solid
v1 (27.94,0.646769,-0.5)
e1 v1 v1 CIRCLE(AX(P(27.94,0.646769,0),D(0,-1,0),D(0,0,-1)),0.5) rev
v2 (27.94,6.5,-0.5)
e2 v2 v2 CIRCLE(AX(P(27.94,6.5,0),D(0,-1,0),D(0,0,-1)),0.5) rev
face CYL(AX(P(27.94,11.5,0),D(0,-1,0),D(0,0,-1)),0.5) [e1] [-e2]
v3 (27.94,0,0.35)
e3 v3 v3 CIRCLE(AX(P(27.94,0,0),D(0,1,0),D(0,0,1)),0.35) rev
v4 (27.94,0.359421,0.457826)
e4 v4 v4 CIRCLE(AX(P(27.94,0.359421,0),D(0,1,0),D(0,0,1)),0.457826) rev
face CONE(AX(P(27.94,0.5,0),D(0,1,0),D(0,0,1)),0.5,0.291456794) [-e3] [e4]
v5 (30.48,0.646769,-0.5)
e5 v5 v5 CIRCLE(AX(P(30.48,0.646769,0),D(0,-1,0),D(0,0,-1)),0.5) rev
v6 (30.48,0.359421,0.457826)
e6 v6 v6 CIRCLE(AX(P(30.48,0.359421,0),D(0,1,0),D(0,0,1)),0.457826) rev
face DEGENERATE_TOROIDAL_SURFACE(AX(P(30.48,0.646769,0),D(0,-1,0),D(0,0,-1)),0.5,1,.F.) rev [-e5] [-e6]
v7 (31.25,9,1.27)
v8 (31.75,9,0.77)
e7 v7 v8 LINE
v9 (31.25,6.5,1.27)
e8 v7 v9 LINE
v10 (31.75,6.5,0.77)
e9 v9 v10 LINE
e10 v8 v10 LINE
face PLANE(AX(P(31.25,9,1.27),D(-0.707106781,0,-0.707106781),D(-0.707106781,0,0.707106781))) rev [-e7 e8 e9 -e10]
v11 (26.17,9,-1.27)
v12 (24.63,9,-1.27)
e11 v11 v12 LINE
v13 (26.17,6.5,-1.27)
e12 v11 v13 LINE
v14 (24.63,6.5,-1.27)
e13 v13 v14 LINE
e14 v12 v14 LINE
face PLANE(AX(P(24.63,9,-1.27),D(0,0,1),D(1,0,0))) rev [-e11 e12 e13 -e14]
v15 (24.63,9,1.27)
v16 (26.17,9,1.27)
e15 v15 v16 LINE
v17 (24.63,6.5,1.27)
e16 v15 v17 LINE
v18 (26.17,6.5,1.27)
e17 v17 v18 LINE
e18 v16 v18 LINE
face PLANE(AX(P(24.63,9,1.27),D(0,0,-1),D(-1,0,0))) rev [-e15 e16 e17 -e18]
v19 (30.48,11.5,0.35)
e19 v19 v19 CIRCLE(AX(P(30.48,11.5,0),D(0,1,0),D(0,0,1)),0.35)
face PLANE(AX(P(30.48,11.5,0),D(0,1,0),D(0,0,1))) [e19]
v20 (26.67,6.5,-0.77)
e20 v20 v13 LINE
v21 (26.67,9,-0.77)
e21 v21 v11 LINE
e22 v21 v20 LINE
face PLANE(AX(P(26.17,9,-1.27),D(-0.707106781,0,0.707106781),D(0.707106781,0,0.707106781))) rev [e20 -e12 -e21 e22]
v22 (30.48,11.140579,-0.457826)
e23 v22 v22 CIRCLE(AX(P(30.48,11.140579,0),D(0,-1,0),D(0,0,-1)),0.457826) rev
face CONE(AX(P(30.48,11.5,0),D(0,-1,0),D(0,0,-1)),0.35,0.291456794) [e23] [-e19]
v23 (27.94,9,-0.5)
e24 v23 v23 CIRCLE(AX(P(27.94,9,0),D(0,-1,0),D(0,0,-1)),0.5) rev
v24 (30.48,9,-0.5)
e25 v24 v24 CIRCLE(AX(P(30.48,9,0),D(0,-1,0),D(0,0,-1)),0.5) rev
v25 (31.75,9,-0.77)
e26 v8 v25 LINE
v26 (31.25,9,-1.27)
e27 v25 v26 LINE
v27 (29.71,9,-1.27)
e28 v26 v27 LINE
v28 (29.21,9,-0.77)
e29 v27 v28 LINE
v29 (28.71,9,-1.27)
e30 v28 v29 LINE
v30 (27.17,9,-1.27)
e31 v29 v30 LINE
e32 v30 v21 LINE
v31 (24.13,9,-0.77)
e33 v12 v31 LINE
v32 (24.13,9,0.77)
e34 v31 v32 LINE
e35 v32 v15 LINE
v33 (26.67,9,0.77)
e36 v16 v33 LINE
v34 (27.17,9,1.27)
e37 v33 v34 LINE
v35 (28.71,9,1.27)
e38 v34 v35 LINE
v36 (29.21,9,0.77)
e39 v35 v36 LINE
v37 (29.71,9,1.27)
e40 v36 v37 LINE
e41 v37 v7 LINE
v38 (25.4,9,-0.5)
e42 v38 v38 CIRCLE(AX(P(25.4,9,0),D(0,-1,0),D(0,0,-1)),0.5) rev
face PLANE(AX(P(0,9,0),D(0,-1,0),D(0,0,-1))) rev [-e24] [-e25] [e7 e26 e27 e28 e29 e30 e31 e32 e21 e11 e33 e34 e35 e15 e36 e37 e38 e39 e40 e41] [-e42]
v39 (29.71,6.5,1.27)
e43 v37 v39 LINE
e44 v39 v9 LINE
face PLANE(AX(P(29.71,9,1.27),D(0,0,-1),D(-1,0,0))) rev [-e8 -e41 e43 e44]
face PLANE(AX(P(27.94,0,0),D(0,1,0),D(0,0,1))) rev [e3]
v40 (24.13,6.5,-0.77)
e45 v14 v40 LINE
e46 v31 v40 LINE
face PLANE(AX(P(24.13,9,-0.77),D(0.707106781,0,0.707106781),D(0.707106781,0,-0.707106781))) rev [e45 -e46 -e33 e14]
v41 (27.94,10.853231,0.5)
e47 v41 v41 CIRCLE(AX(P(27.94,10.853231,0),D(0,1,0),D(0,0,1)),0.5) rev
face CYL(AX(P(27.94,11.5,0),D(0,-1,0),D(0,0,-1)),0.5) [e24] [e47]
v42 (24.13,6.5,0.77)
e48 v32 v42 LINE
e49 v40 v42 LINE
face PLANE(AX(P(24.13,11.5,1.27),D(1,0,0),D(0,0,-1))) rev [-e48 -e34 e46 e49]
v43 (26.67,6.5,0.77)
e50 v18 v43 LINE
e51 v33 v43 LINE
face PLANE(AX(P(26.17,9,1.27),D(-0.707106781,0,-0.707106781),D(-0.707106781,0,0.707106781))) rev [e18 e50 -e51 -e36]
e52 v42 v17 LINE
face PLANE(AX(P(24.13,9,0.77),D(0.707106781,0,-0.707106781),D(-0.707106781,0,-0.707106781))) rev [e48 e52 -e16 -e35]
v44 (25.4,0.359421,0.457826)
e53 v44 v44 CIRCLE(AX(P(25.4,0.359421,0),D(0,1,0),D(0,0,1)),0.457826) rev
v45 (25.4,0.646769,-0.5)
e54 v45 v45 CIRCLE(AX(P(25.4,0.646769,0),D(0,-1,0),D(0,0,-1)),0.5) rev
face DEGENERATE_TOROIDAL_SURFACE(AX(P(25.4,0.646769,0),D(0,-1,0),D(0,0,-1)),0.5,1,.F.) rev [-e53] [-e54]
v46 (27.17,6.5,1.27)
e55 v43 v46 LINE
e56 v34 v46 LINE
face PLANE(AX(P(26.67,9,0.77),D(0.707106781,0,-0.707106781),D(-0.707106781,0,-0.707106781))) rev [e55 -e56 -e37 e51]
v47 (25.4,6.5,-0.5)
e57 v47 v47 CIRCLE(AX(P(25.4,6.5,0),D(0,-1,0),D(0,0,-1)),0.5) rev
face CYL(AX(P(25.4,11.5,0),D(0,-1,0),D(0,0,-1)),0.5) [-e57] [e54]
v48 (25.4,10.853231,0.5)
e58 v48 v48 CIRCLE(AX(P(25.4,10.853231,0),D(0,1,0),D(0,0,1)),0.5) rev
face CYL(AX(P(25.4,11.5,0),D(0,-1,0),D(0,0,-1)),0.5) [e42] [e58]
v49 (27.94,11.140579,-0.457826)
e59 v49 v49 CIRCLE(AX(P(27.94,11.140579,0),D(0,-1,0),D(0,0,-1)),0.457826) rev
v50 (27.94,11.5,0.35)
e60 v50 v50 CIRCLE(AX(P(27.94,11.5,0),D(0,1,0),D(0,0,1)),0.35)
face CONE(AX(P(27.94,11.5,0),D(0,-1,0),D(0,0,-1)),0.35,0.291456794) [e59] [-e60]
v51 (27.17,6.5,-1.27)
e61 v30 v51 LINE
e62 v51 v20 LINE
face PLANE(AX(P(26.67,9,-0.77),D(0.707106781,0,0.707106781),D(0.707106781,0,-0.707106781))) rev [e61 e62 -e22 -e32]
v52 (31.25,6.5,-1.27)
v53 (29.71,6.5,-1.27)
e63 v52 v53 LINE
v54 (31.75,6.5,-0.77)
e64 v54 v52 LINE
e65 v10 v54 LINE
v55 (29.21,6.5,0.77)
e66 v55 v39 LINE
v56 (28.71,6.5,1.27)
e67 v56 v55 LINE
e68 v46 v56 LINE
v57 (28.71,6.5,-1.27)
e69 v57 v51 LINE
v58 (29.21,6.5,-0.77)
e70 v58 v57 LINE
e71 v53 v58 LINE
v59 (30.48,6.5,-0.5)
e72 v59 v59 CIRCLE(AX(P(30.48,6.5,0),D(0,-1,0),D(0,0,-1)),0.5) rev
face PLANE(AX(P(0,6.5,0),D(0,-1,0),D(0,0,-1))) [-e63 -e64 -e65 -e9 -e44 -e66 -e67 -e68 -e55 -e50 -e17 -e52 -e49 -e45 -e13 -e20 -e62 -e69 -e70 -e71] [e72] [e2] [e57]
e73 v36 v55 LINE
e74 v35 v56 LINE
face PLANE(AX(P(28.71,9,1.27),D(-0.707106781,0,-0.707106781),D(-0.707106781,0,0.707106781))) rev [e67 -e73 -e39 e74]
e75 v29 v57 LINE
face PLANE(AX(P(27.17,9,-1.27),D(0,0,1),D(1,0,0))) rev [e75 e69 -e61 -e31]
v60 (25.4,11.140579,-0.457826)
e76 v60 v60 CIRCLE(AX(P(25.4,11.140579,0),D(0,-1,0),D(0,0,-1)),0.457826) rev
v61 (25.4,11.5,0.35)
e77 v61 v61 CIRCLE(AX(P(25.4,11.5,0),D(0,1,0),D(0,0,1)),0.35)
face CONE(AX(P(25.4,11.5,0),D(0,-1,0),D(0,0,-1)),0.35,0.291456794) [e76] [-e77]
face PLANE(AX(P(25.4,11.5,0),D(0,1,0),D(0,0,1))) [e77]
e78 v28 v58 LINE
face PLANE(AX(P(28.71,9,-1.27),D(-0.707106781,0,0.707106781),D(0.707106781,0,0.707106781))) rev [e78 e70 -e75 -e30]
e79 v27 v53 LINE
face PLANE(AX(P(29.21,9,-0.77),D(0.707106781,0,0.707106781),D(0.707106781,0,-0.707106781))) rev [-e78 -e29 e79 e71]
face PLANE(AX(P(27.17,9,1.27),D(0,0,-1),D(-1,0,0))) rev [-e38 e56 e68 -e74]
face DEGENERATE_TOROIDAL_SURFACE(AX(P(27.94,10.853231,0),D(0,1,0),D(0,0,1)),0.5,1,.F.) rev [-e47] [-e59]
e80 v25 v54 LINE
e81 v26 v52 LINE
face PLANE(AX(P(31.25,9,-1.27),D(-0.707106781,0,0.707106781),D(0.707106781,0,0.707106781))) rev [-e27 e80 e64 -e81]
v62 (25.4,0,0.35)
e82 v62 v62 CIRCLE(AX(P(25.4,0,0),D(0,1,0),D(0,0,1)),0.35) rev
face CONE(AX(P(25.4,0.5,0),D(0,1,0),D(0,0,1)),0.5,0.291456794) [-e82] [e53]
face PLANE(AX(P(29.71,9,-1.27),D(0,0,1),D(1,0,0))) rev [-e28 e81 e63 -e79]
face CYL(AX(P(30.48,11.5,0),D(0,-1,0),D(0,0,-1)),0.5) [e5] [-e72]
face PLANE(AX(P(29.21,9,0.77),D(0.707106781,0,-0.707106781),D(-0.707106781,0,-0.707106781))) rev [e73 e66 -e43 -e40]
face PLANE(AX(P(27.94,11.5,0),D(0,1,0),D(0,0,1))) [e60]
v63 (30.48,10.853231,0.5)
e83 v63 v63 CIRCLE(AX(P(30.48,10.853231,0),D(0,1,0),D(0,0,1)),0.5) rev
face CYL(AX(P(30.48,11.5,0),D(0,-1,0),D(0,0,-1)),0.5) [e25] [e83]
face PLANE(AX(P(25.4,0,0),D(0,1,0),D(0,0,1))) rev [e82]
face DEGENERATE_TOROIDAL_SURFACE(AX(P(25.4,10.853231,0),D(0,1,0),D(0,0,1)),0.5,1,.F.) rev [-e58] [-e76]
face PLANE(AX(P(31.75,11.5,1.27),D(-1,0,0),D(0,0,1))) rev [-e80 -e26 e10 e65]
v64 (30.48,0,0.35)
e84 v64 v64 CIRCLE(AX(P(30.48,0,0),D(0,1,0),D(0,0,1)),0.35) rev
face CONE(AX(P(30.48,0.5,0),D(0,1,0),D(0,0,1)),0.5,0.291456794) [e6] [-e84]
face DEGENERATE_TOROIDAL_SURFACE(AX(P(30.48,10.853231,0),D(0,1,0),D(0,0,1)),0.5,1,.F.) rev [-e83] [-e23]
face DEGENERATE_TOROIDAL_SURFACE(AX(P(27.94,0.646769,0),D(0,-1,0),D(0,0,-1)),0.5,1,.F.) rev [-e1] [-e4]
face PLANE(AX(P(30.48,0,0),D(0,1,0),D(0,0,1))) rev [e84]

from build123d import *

# Parameters (mm, degrees)
SKETCH1_R               = 0.5
BOSS_EXTRUDE1_DEPTH     = 11.5
BOSS_EXTRUDE1_2_DEPTH   = 11.5
BOSS_EXTRUDE1_3_DEPTH   = 11.5
BOSS_EXTRUDE1_4_DEPTH   = 11.5
BOSS_EXTRUDE1_5_DEPTH   = 11.5
BOSS_EXTRUDE1_6_DEPTH   = 11.5
BOSS_EXTRUDE1_7_DEPTH   = 11.5
BOSS_EXTRUDE1_8_DEPTH   = 11.5
BOSS_EXTRUDE1_9_DEPTH   = 11.5
BOSS_EXTRUDE1_10_DEPTH  = 11.5
BOSS_EXTRUDE1_11_DEPTH  = 11.5
BOSS_EXTRUDE1_12_DEPTH  = 11.5
BOSS_EXTRUDE1_13_DEPTH  = 11.5
BOSS_EXTRUDE1_14_DEPTH  = 11.5
BOSS_EXTRUDE1_15_DEPTH  = 11.5
BOSS_EXTRUDE1_16_DEPTH  = 11.5
BOSS_EXTRUDE2_DEPTH     = 2.5
CHAMFER1_SIZE           = 0.5
CHAMFER1_SIZE2          = 0.15
CHAMFER1_PART_2_SIZE    = 0.5
CHAMFER1_PART_2_SIZE2   = 0.15
CHAMFER1_PART_3_SIZE    = 0.5
CHAMFER1_PART_3_SIZE2   = 0.15
CHAMFER1_PART_4_SIZE    = 0.5
CHAMFER1_PART_4_SIZE2   = 0.15
CHAMFER1_PART_5_SIZE    = 0.5
CHAMFER1_PART_5_SIZE2   = 0.15
CHAMFER1_PART_6_SIZE    = 0.5
CHAMFER1_PART_6_SIZE2   = 0.15
CHAMFER1_PART_7_SIZE    = 0.5
CHAMFER1_PART_7_SIZE2   = 0.15
CHAMFER1_PART_8_SIZE    = 0.5
CHAMFER1_PART_8_SIZE2   = 0.15
CHAMFER1_PART_9_SIZE    = 0.5
CHAMFER1_PART_9_SIZE2   = 0.15
CHAMFER1_PART_10_SIZE   = 0.5
CHAMFER1_PART_10_SIZE2  = 0.15
CHAMFER1_PART_11_SIZE   = 0.5
CHAMFER1_PART_11_SIZE2  = 0.15
CHAMFER1_PART_12_SIZE   = 0.5
CHAMFER1_PART_12_SIZE2  = 0.15
CHAMFER1_PART_13_SIZE   = 0.5
CHAMFER1_PART_13_SIZE2  = 0.15
CHAMFER1_PART_14_SIZE   = 0.5
CHAMFER1_PART_14_SIZE2  = 0.15
CHAMFER1_PART_15_SIZE   = 0.5
CHAMFER1_PART_15_SIZE2  = 0.15
CHAMFER1_PART_16_SIZE   = 0.5
CHAMFER1_PART_16_SIZE2  = 0.15
FILLET1_R               = 1
CHAMFER2_SIZE           = 0.15
CHAMFER2_SIZE2          = 0.5
CHAMFER2_PART_2_SIZE    = 0.15
CHAMFER2_PART_2_SIZE2   = 0.5
CHAMFER2_PART_3_SIZE    = 0.15
CHAMFER2_PART_3_SIZE2   = 0.5
CHAMFER2_PART_4_SIZE    = 0.15
CHAMFER2_PART_4_SIZE2   = 0.5
CHAMFER2_PART_5_SIZE    = 0.15
CHAMFER2_PART_5_SIZE2   = 0.5
CHAMFER2_PART_6_SIZE    = 0.15
CHAMFER2_PART_6_SIZE2   = 0.5
CHAMFER2_PART_7_SIZE    = 0.15
CHAMFER2_PART_7_SIZE2   = 0.5
CHAMFER2_PART_8_SIZE    = 0.15
CHAMFER2_PART_8_SIZE2   = 0.5
CHAMFER2_PART_9_SIZE    = 0.15
CHAMFER2_PART_9_SIZE2   = 0.5
CHAMFER2_PART_10_SIZE   = 0.15
CHAMFER2_PART_10_SIZE2  = 0.5
CHAMFER2_PART_11_SIZE   = 0.15
CHAMFER2_PART_11_SIZE2  = 0.5
CHAMFER2_PART_12_SIZE   = 0.15
CHAMFER2_PART_12_SIZE2  = 0.5
CHAMFER2_PART_13_SIZE   = 0.15
CHAMFER2_PART_13_SIZE2  = 0.5
CHAMFER2_PART_14_SIZE   = 0.15
CHAMFER2_PART_14_SIZE2  = 0.5
CHAMFER2_PART_15_SIZE   = 0.15
CHAMFER2_PART_15_SIZE2  = 0.5
CHAMFER2_PART_16_SIZE   = 0.15
CHAMFER2_PART_16_SIZE2  = 0.5
FILLET2_R               = 1
CUT_EXTRUDE1_DEPTH      = 1
CUT_EXTRUDE1_DEPTH_BACK = 3.54


with BuildPart() as part:
    # Sketch1 → Boss-Extrude1 (new body)
    with BuildSketch(Plane(origin=(0, 0, 0), x_dir=(1, 0, 0), z_dir=(0, 1, 0))):
        Circle(SKETCH1_R)
    extrude(amount=BOSS_EXTRUDE1_DEPTH)



with BuildPart() as body_2:
    # Sketch1 → Boss-Extrude1 2 (new body)
    with BuildSketch(Plane(origin=(0, 0, 0), x_dir=(1, 0, 0), z_dir=(0, 1, 0))):
        with Locations((2.54, 0)):
            Circle(SKETCH1_R)
    extrude(amount=BOSS_EXTRUDE1_2_DEPTH)


with BuildPart() as body_3:
    # Sketch1 → Boss-Extrude1 3 (new body)
    with BuildSketch(Plane(origin=(0, 0, 0), x_dir=(1, 0, 0), z_dir=(0, 1, 0))):
        with Locations((5.08, 0)):
            Circle(SKETCH1_R)
    extrude(amount=BOSS_EXTRUDE1_3_DEPTH)


with BuildPart() as body_4:
    # Sketch1 → Boss-Extrude1 4 (new body)
    with BuildSketch(Plane(origin=(0, 0, 0), x_dir=(1, 0, 0), z_dir=(0, 1, 0))):
        with Locations((7.62, 0)):
            Circle(SKETCH1_R)
    extrude(amount=BOSS_EXTRUDE1_4_DEPTH)


with BuildPart() as body_5:
    # Sketch1 → Boss-Extrude1 5 (new body)
    with BuildSketch(Plane(origin=(0, 0, 0), x_dir=(1, 0, 0), z_dir=(0, 1, 0))):
        with Locations((10.16, 0)):
            Circle(SKETCH1_R)
    extrude(amount=BOSS_EXTRUDE1_5_DEPTH)


with BuildPart() as body_6:
    # Sketch1 → Boss-Extrude1 6 (new body)
    with BuildSketch(Plane(origin=(0, 0, 0), x_dir=(1, 0, 0), z_dir=(0, 1, 0))):
        with Locations((12.7, 0)):
            Circle(SKETCH1_R)
    extrude(amount=BOSS_EXTRUDE1_6_DEPTH)


with BuildPart() as body_7:
    # Sketch1 → Boss-Extrude1 7 (new body)
    with BuildSketch(Plane(origin=(0, 0, 0), x_dir=(1, 0, 0), z_dir=(0, 1, 0))):
        with Locations((15.24, 0)):
            Circle(SKETCH1_R)
    extrude(amount=BOSS_EXTRUDE1_7_DEPTH)


with BuildPart() as body_8:
    # Sketch1 → Boss-Extrude1 8 (new body)
    with BuildSketch(Plane(origin=(0, 0, 0), x_dir=(1, 0, 0), z_dir=(0, 1, 0))):
        with Locations((17.78, 0)):
            Circle(SKETCH1_R)
    extrude(amount=BOSS_EXTRUDE1_8_DEPTH)


with BuildPart() as body_9:
    # Sketch1 → Boss-Extrude1 9 (new body)
    with BuildSketch(Plane(origin=(0, 0, 0), x_dir=(1, 0, 0), z_dir=(0, 1, 0))):
        with Locations((20.32, 0)):
            Circle(SKETCH1_R)
    extrude(amount=BOSS_EXTRUDE1_9_DEPTH)


with BuildPart() as body_10:
    # Sketch1 → Boss-Extrude1 10 (new body)
    with BuildSketch(Plane(origin=(0, 0, 0), x_dir=(1, 0, 0), z_dir=(0, 1, 0))):
        with Locations((22.86, 0)):
            Circle(SKETCH1_R)
    extrude(amount=BOSS_EXTRUDE1_10_DEPTH)


with BuildPart() as body_11:
    # Sketch1 → Boss-Extrude1 11 (new body)
    with BuildSketch(Plane(origin=(0, 0, 0), x_dir=(1, 0, 0), z_dir=(0, 1, 0))):
        with Locations((25.4, 0)):
            Circle(SKETCH1_R)
    extrude(amount=BOSS_EXTRUDE1_11_DEPTH)


with BuildPart() as body_12:
    # Sketch1 → Boss-Extrude1 12 (new body)
    with BuildSketch(Plane(origin=(0, 0, 0), x_dir=(1, 0, 0), z_dir=(0, 1, 0))):
        with Locations((27.94, 0)):
            Circle(SKETCH1_R)
    extrude(amount=BOSS_EXTRUDE1_12_DEPTH)


with BuildPart() as body_13:
    # Sketch1 → Boss-Extrude1 13 (new body)
    with BuildSketch(Plane(origin=(0, 0, 0), x_dir=(1, 0, 0), z_dir=(0, 1, 0))):
        with Locations((30.48, 0)):
            Circle(SKETCH1_R)
    extrude(amount=BOSS_EXTRUDE1_13_DEPTH)


with BuildPart() as body_14:
    # Sketch1 → Boss-Extrude1 14 (new body)
    with BuildSketch(Plane(origin=(0, 0, 0), x_dir=(1, 0, 0), z_dir=(0, 1, 0))):
        with Locations((33.02, 0)):
            Circle(SKETCH1_R)
    extrude(amount=BOSS_EXTRUDE1_14_DEPTH)


with BuildPart() as body_15:
    # Sketch1 → Boss-Extrude1 15 (new body)
    with BuildSketch(Plane(origin=(0, 0, 0), x_dir=(1, 0, 0), z_dir=(0, 1, 0))):
        with Locations((35.56, 0)):
            Circle(SKETCH1_R)
    extrude(amount=BOSS_EXTRUDE1_15_DEPTH)


with BuildPart() as body_16:
    # Sketch1 → Boss-Extrude1 16 (new body)
    with BuildSketch(Plane(origin=(0, 0, 0), x_dir=(1, 0, 0), z_dir=(0, 1, 0))):
        with Locations((38.1, 0)):
            Circle(SKETCH1_R)
    extrude(amount=BOSS_EXTRUDE1_16_DEPTH)


with BuildPart() as part_1:
    add(part.part)

    add(body_2.part)  # Boss-Extrude2 merges body 2

    add(body_3.part)  # Boss-Extrude2 merges body 3

    add(body_4.part)  # Boss-Extrude2 merges body 4

    add(body_5.part)  # Boss-Extrude2 merges body 5

    add(body_6.part)  # Boss-Extrude2 merges body 6

    add(body_7.part)  # Boss-Extrude2 merges body 7

    add(body_8.part)  # Boss-Extrude2 merges body 8

    add(body_9.part)  # Boss-Extrude2 merges body 9

    add(body_10.part)  # Boss-Extrude2 merges body 10

    add(body_11.part)  # Boss-Extrude2 merges body 11

    add(body_12.part)  # Boss-Extrude2 merges body 12

    add(body_13.part)  # Boss-Extrude2 merges body 13

    add(body_14.part)  # Boss-Extrude2 merges body 14

    add(body_15.part)  # Boss-Extrude2 merges body 15

    add(body_16.part)  # Boss-Extrude2 merges body 16
    # Sketch2 → Boss-Extrude2 (add)
    with BuildSketch(Plane(origin=(0, 6.5, 0), x_dir=(1, 0, 0), z_dir=(0, 1, 0))):
        Polygon((-1.27, 0.77), (-0.77, 1.27), (0.77, 1.27), (1.27, 0.77), (1.77, 1.27), (3.31, 1.27), (3.81, 0.77), (4.31, 1.27), (5.85, 1.27), (6.35, 0.77), (6.85, 1.27), (8.39, 1.27), (8.89, 0.77), (9.39, 1.27), (10.93, 1.27), (11.43, 0.77), (11.93, 1.27), (13.47, 1.27), (13.97, 0.77), (14.47, 1.27), (16.01, 1.27), (16.51, 0.77), (17.01, 1.27), (18.55, 1.27), (19.05, 0.77), (19.55, 1.27), (21.09, 1.27), (21.59, 0.77), (22.09, 1.27), (23.63, 1.27), (24.13, 0.77), (24.63, 1.27), (26.17, 1.27), (26.67, 0.77), (27.17, 1.27), (28.71, 1.27), (29.21, 0.77), (29.71, 1.27), (31.25, 1.27), (31.75, 0.77), (32.25, 1.27), (33.79, 1.27), (34.29, 0.77), (34.79, 1.27), (36.33, 1.27), (36.83, 0.77), (37.33, 1.27), (38.87, 1.27), (39.37, 0.77), (39.37, -0.77), (38.87, -1.27), (37.33, -1.27), (36.83, -0.77), (36.33, -1.27), (34.79, -1.27), (34.29, -0.77), (33.79, -1.27), (32.25, -1.27), (31.75, -0.77), (31.25, -1.27), (29.71, -1.27), (29.21, -0.77), (28.71, -1.27), (27.17, -1.27), (26.67, -0.77), (26.17, -1.27), (24.63, -1.27), (24.13, -0.77), (23.63, -1.27), (22.09, -1.27), (21.59, -0.77), (21.09, -1.27), (19.55, -1.27), (19.05, -0.77), (18.55, -1.27), (17.01, -1.27), (16.51, -0.77), (16.01, -1.27), (14.47, -1.27), (13.97, -0.77), (13.47, -1.27), (11.93, -1.27), (11.43, -0.77), (10.93, -1.27), (9.39, -1.27), (8.89, -0.77), (8.39, -1.27), (6.85, -1.27), (6.35, -0.77), (5.85, -1.27), (4.31, -1.27), (3.81, -0.77), (3.31, -1.27), (1.77, -1.27), (1.27, -0.77), (0.77, -1.27), (-0.77, -1.27), (-1.27, -0.77), align=None)
    extrude(amount=BOSS_EXTRUDE2_DEPTH)

    # Chamfer1
    chamfer1_edges = [part_1.edges().sort_by_distance(p)[0] for p in [
        (2.04, 11.5, 0),
    ]]
    chamfer1_side = [part_1.faces().sort_by_distance(p)[0] for p in [
        (2.04, 10.25, 0),
    ]]
    chamfer(chamfer1_edges, length=CHAMFER1_SIZE, length2=CHAMFER1_SIZE2, reference=chamfer1_side[0])

    # Chamfer1 part 2
    chamfer1_part_2_edges = [part_1.edges().sort_by_distance(p)[0] for p in [
        (4.58, 11.5, 0),
    ]]
    chamfer1_part_2_side = [part_1.faces().sort_by_distance(p)[0] for p in [
        (4.58, 10.25, 0),
    ]]
    chamfer(chamfer1_part_2_edges, length=CHAMFER1_PART_2_SIZE, length2=CHAMFER1_PART_2_SIZE2, reference=chamfer1_part_2_side[0])

    # Chamfer1 part 3
    chamfer1_part_3_edges = [part_1.edges().sort_by_distance(p)[0] for p in [
        (7.12, 11.5, 0),
    ]]
    chamfer1_part_3_side = [part_1.faces().sort_by_distance(p)[0] for p in [
        (7.12, 10.25, 0),
    ]]
    chamfer(chamfer1_part_3_edges, length=CHAMFER1_PART_3_SIZE, length2=CHAMFER1_PART_3_SIZE2, reference=chamfer1_part_3_side[0])

    # Chamfer1 part 4
    chamfer1_part_4_edges = [part_1.edges().sort_by_distance(p)[0] for p in [
        (9.66, 11.5, 0),
    ]]
    chamfer1_part_4_side = [part_1.faces().sort_by_distance(p)[0] for p in [
        (9.66, 10.25, 0),
    ]]
    chamfer(chamfer1_part_4_edges, length=CHAMFER1_PART_4_SIZE, length2=CHAMFER1_PART_4_SIZE2, reference=chamfer1_part_4_side[0])

    # Chamfer1 part 5
    chamfer1_part_5_edges = [part_1.edges().sort_by_distance(p)[0] for p in [
        (12.2, 11.5, 0),
    ]]
    chamfer1_part_5_side = [part_1.faces().sort_by_distance(p)[0] for p in [
        (12.2, 10.25, 0),
    ]]
    chamfer(chamfer1_part_5_edges, length=CHAMFER1_PART_5_SIZE, length2=CHAMFER1_PART_5_SIZE2, reference=chamfer1_part_5_side[0])

    # Chamfer1 part 6
    chamfer1_part_6_edges = [part_1.edges().sort_by_distance(p)[0] for p in [
        (14.74, 11.5, 0),
    ]]
    chamfer1_part_6_side = [part_1.faces().sort_by_distance(p)[0] for p in [
        (14.74, 10.25, 0),
    ]]
    chamfer(chamfer1_part_6_edges, length=CHAMFER1_PART_6_SIZE, length2=CHAMFER1_PART_6_SIZE2, reference=chamfer1_part_6_side[0])

    # Chamfer1 part 7
    chamfer1_part_7_edges = [part_1.edges().sort_by_distance(p)[0] for p in [
        (17.28, 11.5, 0),
    ]]
    chamfer1_part_7_side = [part_1.faces().sort_by_distance(p)[0] for p in [
        (17.28, 10.25, 0),
    ]]
    chamfer(chamfer1_part_7_edges, length=CHAMFER1_PART_7_SIZE, length2=CHAMFER1_PART_7_SIZE2, reference=chamfer1_part_7_side[0])

    # Chamfer1 part 8
    chamfer1_part_8_edges = [part_1.edges().sort_by_distance(p)[0] for p in [
        (19.82, 11.5, 0),
    ]]
    chamfer1_part_8_side = [part_1.faces().sort_by_distance(p)[0] for p in [
        (19.82, 10.25, 0),
    ]]
    chamfer(chamfer1_part_8_edges, length=CHAMFER1_PART_8_SIZE, length2=CHAMFER1_PART_8_SIZE2, reference=chamfer1_part_8_side[0])

    # Chamfer1 part 9
    chamfer1_part_9_edges = [part_1.edges().sort_by_distance(p)[0] for p in [
        (22.36, 11.5, 0),
    ]]
    chamfer1_part_9_side = [part_1.faces().sort_by_distance(p)[0] for p in [
        (22.36, 10.25, 0),
    ]]
    chamfer(chamfer1_part_9_edges, length=CHAMFER1_PART_9_SIZE, length2=CHAMFER1_PART_9_SIZE2, reference=chamfer1_part_9_side[0])

    # Chamfer1 part 10
    chamfer1_part_10_edges = [part_1.edges().sort_by_distance(p)[0] for p in [
        (24.9, 11.5, 0),
    ]]
    chamfer1_part_10_side = [part_1.faces().sort_by_distance(p)[0] for p in [
        (24.9, 10.25, 0),
    ]]
    chamfer(chamfer1_part_10_edges, length=CHAMFER1_PART_10_SIZE, length2=CHAMFER1_PART_10_SIZE2, reference=chamfer1_part_10_side[0])

    # Chamfer1 part 11
    chamfer1_part_11_edges = [part_1.edges().sort_by_distance(p)[0] for p in [
        (27.44, 11.5, 0),
    ]]
    chamfer1_part_11_side = [part_1.faces().sort_by_distance(p)[0] for p in [
        (27.44, 10.25, 0),
    ]]
    chamfer(chamfer1_part_11_edges, length=CHAMFER1_PART_11_SIZE, length2=CHAMFER1_PART_11_SIZE2, reference=chamfer1_part_11_side[0])

    # Chamfer1 part 12
    chamfer1_part_12_edges = [part_1.edges().sort_by_distance(p)[0] for p in [
        (29.98, 11.5, 0),
    ]]
    chamfer1_part_12_side = [part_1.faces().sort_by_distance(p)[0] for p in [
        (29.98, 10.25, 0),
    ]]
    chamfer(chamfer1_part_12_edges, length=CHAMFER1_PART_12_SIZE, length2=CHAMFER1_PART_12_SIZE2, reference=chamfer1_part_12_side[0])

    # Chamfer1 part 13
    chamfer1_part_13_edges = [part_1.edges().sort_by_distance(p)[0] for p in [
        (32.52, 11.5, 0),
    ]]
    chamfer1_part_13_side = [part_1.faces().sort_by_distance(p)[0] for p in [
        (32.52, 10.25, 0),
    ]]
    chamfer(chamfer1_part_13_edges, length=CHAMFER1_PART_13_SIZE, length2=CHAMFER1_PART_13_SIZE2, reference=chamfer1_part_13_side[0])

    # Chamfer1 part 14
    chamfer1_part_14_edges = [part_1.edges().sort_by_distance(p)[0] for p in [
        (35.06, 11.5, 0),
    ]]
    chamfer1_part_14_side = [part_1.faces().sort_by_distance(p)[0] for p in [
        (35.06, 10.25, 0),
    ]]
    chamfer(chamfer1_part_14_edges, length=CHAMFER1_PART_14_SIZE, length2=CHAMFER1_PART_14_SIZE2, reference=chamfer1_part_14_side[0])

    # Chamfer1 part 15
    chamfer1_part_15_edges = [part_1.edges().sort_by_distance(p)[0] for p in [
        (37.6, 11.5, 0),
    ]]
    chamfer1_part_15_side = [part_1.faces().sort_by_distance(p)[0] for p in [
        (37.6, 10.25, 0),
    ]]
    chamfer(chamfer1_part_15_edges, length=CHAMFER1_PART_15_SIZE, length2=CHAMFER1_PART_15_SIZE2, reference=chamfer1_part_15_side[0])

    # Chamfer1 part 16
    chamfer1_part_16_edges = [part_1.edges().sort_by_distance(p)[0] for p in [
        (-0.5, 11.5, 0),
    ]]
    chamfer1_part_16_side = [part_1.faces().sort_by_distance(p)[0] for p in [
        (-0.5, 10.25, 0),
    ]]
    chamfer(chamfer1_part_16_edges, length=CHAMFER1_PART_16_SIZE, length2=CHAMFER1_PART_16_SIZE2, reference=chamfer1_part_16_side[0])

    # Fillet1
    fillet1_edges = [part_1.edges().sort_by_distance(p)[0] for p in [
        (37.6, 11, 0),
        (35.06, 11, 0),
        (32.52, 11, 0),
        (29.98, 11, 0),
        (27.44, 11, 0),
        (24.9, 11, 0),
        (22.36, 11, 0),
        (19.82, 11, 0),
        (17.28, 11, 0),
        (14.74, 11, 0),
        (12.2, 11, 0),
        (9.66, 11, 0),
        (7.12, 11, 0),
        (4.58, 11, 0),
        (2.04, 11, 0),
        (-0.5, 11, 0),
    ]]
    fillet(fillet1_edges, radius=FILLET1_R)

    # Chamfer2
    chamfer2_edges = [part_1.edges().sort_by_distance(p)[0] for p in [
        (-0.5, 0, 0),
    ]]
    chamfer2_side = [part_1.faces().sort_by_distance(p)[0] for p in [
        (0, 0, 0),
    ]]
    chamfer(chamfer2_edges, length=CHAMFER2_SIZE, length2=CHAMFER2_SIZE2, reference=chamfer2_side[0])

    # Chamfer2 part 2
    chamfer2_part_2_edges = [part_1.edges().sort_by_distance(p)[0] for p in [
        (2.04, 0, 0),
    ]]
    chamfer2_part_2_side = [part_1.faces().sort_by_distance(p)[0] for p in [
        (2.54, 0, 0),
    ]]
    chamfer(chamfer2_part_2_edges, length=CHAMFER2_PART_2_SIZE, length2=CHAMFER2_PART_2_SIZE2, reference=chamfer2_part_2_side[0])

    # Chamfer2 part 3
    chamfer2_part_3_edges = [part_1.edges().sort_by_distance(p)[0] for p in [
        (4.58, 0, 0),
    ]]
    chamfer2_part_3_side = [part_1.faces().sort_by_distance(p)[0] for p in [
        (5.08, 0, 0),
    ]]
    chamfer(chamfer2_part_3_edges, length=CHAMFER2_PART_3_SIZE, length2=CHAMFER2_PART_3_SIZE2, reference=chamfer2_part_3_side[0])

    # Chamfer2 part 4
    chamfer2_part_4_edges = [part_1.edges().sort_by_distance(p)[0] for p in [
        (7.12, 0, 0),
    ]]
    chamfer2_part_4_side = [part_1.faces().sort_by_distance(p)[0] for p in [
        (7.62, 0, 0),
    ]]
    chamfer(chamfer2_part_4_edges, length=CHAMFER2_PART_4_SIZE, length2=CHAMFER2_PART_4_SIZE2, reference=chamfer2_part_4_side[0])

    # Chamfer2 part 5
    chamfer2_part_5_edges = [part_1.edges().sort_by_distance(p)[0] for p in [
        (9.66, 0, 0),
    ]]
    chamfer2_part_5_side = [part_1.faces().sort_by_distance(p)[0] for p in [
        (10.16, 0, 0),
    ]]
    chamfer(chamfer2_part_5_edges, length=CHAMFER2_PART_5_SIZE, length2=CHAMFER2_PART_5_SIZE2, reference=chamfer2_part_5_side[0])

    # Chamfer2 part 6
    chamfer2_part_6_edges = [part_1.edges().sort_by_distance(p)[0] for p in [
        (12.2, 0, 0),
    ]]
    chamfer2_part_6_side = [part_1.faces().sort_by_distance(p)[0] for p in [
        (12.7, 0, 0),
    ]]
    chamfer(chamfer2_part_6_edges, length=CHAMFER2_PART_6_SIZE, length2=CHAMFER2_PART_6_SIZE2, reference=chamfer2_part_6_side[0])

    # Chamfer2 part 7
    chamfer2_part_7_edges = [part_1.edges().sort_by_distance(p)[0] for p in [
        (14.74, 0, 0),
    ]]
    chamfer2_part_7_side = [part_1.faces().sort_by_distance(p)[0] for p in [
        (15.24, 0, 0),
    ]]
    chamfer(chamfer2_part_7_edges, length=CHAMFER2_PART_7_SIZE, length2=CHAMFER2_PART_7_SIZE2, reference=chamfer2_part_7_side[0])

    # Chamfer2 part 8
    chamfer2_part_8_edges = [part_1.edges().sort_by_distance(p)[0] for p in [
        (17.28, 0, 0),
    ]]
    chamfer2_part_8_side = [part_1.faces().sort_by_distance(p)[0] for p in [
        (17.78, 0, 0),
    ]]
    chamfer(chamfer2_part_8_edges, length=CHAMFER2_PART_8_SIZE, length2=CHAMFER2_PART_8_SIZE2, reference=chamfer2_part_8_side[0])

    # Chamfer2 part 9
    chamfer2_part_9_edges = [part_1.edges().sort_by_distance(p)[0] for p in [
        (19.82, 0, 0),
    ]]
    chamfer2_part_9_side = [part_1.faces().sort_by_distance(p)[0] for p in [
        (20.32, 0, 0),
    ]]
    chamfer(chamfer2_part_9_edges, length=CHAMFER2_PART_9_SIZE, length2=CHAMFER2_PART_9_SIZE2, reference=chamfer2_part_9_side[0])

    # Chamfer2 part 10
    chamfer2_part_10_edges = [part_1.edges().sort_by_distance(p)[0] for p in [
        (22.36, 0, 0),
    ]]
    chamfer2_part_10_side = [part_1.faces().sort_by_distance(p)[0] for p in [
        (22.86, 0, 0),
    ]]
    chamfer(chamfer2_part_10_edges, length=CHAMFER2_PART_10_SIZE, length2=CHAMFER2_PART_10_SIZE2, reference=chamfer2_part_10_side[0])

    # Chamfer2 part 11
    chamfer2_part_11_edges = [part_1.edges().sort_by_distance(p)[0] for p in [
        (24.9, 0, 0),
    ]]
    chamfer2_part_11_side = [part_1.faces().sort_by_distance(p)[0] for p in [
        (25.4, 0, 0),
    ]]
    chamfer(chamfer2_part_11_edges, length=CHAMFER2_PART_11_SIZE, length2=CHAMFER2_PART_11_SIZE2, reference=chamfer2_part_11_side[0])

    # Chamfer2 part 12
    chamfer2_part_12_edges = [part_1.edges().sort_by_distance(p)[0] for p in [
        (27.44, 0, 0),
    ]]
    chamfer2_part_12_side = [part_1.faces().sort_by_distance(p)[0] for p in [
        (27.94, 0, 0),
    ]]
    chamfer(chamfer2_part_12_edges, length=CHAMFER2_PART_12_SIZE, length2=CHAMFER2_PART_12_SIZE2, reference=chamfer2_part_12_side[0])

    # Chamfer2 part 13
    chamfer2_part_13_edges = [part_1.edges().sort_by_distance(p)[0] for p in [
        (29.98, 0, 0),
    ]]
    chamfer2_part_13_side = [part_1.faces().sort_by_distance(p)[0] for p in [
        (30.48, 0, 0),
    ]]
    chamfer(chamfer2_part_13_edges, length=CHAMFER2_PART_13_SIZE, length2=CHAMFER2_PART_13_SIZE2, reference=chamfer2_part_13_side[0])

    # Chamfer2 part 14
    chamfer2_part_14_edges = [part_1.edges().sort_by_distance(p)[0] for p in [
        (32.52, 0, 0),
    ]]
    chamfer2_part_14_side = [part_1.faces().sort_by_distance(p)[0] for p in [
        (33.02, 0, 0),
    ]]
    chamfer(chamfer2_part_14_edges, length=CHAMFER2_PART_14_SIZE, length2=CHAMFER2_PART_14_SIZE2, reference=chamfer2_part_14_side[0])

    # Chamfer2 part 15
    chamfer2_part_15_edges = [part_1.edges().sort_by_distance(p)[0] for p in [
        (35.06, 0, 0),
    ]]
    chamfer2_part_15_side = [part_1.faces().sort_by_distance(p)[0] for p in [
        (35.56, 0, 0),
    ]]
    chamfer(chamfer2_part_15_edges, length=CHAMFER2_PART_15_SIZE, length2=CHAMFER2_PART_15_SIZE2, reference=chamfer2_part_15_side[0])

    # Chamfer2 part 16
    chamfer2_part_16_edges = [part_1.edges().sort_by_distance(p)[0] for p in [
        (37.6, 0, 0),
    ]]
    chamfer2_part_16_side = [part_1.faces().sort_by_distance(p)[0] for p in [
        (38.1, 0, 0),
    ]]
    chamfer(chamfer2_part_16_edges, length=CHAMFER2_PART_16_SIZE, length2=CHAMFER2_PART_16_SIZE2, reference=chamfer2_part_16_side[0])

    # Fillet2
    fillet2_edges = [part_1.edges().sort_by_distance(p)[0] for p in [
        (9.66, 0.5, 0),
        (17.28, 0.5, 0),
        (22.36, 0.5, 0),
        (27.44, 0.5, 0),
        (29.98, 0.5, 0),
        (-0.5, 0.5, 0),
        (2.04, 0.5, 0),
        (4.58, 0.5, 0),
        (7.12, 0.5, 0),
        (12.2, 0.5, 0),
        (14.74, 0.5, 0),
        (19.82, 0.5, 0),
        (24.9, 0.5, 0),
        (32.52, 0.5, 0),
        (35.06, 0.5, 0),
        (37.6, 0.5, 0),
    ]]
    fillet(fillet2_edges, radius=FILLET2_R)

    # Sketch3 → Cut-Extrude1 (cut, two sides)
    with BuildSketch(Plane(origin=(0, 0, -1.27), x_dir=(-1, 0, 0), z_dir=(0, 0, -1))) as cut_extrude1_sk:
        Polygon((-31.75, 11.5), (-31.75, 0), (-40.282511818, 0), (-40.282511818, 14.702627998), align=None)
        Polygon((-24.13, 11.5), (-24.13, 0), (2.40719131, -1.427988579), (2.361545608, 11.5), align=None)
    extrude(amount=CUT_EXTRUDE1_DEPTH, mode=Mode.SUBTRACT)
    extrude(cut_extrude1_sk.sketch, amount=-CUT_EXTRUDE1_DEPTH_BACK, mode=Mode.SUBTRACT)


solid = part_1.part
